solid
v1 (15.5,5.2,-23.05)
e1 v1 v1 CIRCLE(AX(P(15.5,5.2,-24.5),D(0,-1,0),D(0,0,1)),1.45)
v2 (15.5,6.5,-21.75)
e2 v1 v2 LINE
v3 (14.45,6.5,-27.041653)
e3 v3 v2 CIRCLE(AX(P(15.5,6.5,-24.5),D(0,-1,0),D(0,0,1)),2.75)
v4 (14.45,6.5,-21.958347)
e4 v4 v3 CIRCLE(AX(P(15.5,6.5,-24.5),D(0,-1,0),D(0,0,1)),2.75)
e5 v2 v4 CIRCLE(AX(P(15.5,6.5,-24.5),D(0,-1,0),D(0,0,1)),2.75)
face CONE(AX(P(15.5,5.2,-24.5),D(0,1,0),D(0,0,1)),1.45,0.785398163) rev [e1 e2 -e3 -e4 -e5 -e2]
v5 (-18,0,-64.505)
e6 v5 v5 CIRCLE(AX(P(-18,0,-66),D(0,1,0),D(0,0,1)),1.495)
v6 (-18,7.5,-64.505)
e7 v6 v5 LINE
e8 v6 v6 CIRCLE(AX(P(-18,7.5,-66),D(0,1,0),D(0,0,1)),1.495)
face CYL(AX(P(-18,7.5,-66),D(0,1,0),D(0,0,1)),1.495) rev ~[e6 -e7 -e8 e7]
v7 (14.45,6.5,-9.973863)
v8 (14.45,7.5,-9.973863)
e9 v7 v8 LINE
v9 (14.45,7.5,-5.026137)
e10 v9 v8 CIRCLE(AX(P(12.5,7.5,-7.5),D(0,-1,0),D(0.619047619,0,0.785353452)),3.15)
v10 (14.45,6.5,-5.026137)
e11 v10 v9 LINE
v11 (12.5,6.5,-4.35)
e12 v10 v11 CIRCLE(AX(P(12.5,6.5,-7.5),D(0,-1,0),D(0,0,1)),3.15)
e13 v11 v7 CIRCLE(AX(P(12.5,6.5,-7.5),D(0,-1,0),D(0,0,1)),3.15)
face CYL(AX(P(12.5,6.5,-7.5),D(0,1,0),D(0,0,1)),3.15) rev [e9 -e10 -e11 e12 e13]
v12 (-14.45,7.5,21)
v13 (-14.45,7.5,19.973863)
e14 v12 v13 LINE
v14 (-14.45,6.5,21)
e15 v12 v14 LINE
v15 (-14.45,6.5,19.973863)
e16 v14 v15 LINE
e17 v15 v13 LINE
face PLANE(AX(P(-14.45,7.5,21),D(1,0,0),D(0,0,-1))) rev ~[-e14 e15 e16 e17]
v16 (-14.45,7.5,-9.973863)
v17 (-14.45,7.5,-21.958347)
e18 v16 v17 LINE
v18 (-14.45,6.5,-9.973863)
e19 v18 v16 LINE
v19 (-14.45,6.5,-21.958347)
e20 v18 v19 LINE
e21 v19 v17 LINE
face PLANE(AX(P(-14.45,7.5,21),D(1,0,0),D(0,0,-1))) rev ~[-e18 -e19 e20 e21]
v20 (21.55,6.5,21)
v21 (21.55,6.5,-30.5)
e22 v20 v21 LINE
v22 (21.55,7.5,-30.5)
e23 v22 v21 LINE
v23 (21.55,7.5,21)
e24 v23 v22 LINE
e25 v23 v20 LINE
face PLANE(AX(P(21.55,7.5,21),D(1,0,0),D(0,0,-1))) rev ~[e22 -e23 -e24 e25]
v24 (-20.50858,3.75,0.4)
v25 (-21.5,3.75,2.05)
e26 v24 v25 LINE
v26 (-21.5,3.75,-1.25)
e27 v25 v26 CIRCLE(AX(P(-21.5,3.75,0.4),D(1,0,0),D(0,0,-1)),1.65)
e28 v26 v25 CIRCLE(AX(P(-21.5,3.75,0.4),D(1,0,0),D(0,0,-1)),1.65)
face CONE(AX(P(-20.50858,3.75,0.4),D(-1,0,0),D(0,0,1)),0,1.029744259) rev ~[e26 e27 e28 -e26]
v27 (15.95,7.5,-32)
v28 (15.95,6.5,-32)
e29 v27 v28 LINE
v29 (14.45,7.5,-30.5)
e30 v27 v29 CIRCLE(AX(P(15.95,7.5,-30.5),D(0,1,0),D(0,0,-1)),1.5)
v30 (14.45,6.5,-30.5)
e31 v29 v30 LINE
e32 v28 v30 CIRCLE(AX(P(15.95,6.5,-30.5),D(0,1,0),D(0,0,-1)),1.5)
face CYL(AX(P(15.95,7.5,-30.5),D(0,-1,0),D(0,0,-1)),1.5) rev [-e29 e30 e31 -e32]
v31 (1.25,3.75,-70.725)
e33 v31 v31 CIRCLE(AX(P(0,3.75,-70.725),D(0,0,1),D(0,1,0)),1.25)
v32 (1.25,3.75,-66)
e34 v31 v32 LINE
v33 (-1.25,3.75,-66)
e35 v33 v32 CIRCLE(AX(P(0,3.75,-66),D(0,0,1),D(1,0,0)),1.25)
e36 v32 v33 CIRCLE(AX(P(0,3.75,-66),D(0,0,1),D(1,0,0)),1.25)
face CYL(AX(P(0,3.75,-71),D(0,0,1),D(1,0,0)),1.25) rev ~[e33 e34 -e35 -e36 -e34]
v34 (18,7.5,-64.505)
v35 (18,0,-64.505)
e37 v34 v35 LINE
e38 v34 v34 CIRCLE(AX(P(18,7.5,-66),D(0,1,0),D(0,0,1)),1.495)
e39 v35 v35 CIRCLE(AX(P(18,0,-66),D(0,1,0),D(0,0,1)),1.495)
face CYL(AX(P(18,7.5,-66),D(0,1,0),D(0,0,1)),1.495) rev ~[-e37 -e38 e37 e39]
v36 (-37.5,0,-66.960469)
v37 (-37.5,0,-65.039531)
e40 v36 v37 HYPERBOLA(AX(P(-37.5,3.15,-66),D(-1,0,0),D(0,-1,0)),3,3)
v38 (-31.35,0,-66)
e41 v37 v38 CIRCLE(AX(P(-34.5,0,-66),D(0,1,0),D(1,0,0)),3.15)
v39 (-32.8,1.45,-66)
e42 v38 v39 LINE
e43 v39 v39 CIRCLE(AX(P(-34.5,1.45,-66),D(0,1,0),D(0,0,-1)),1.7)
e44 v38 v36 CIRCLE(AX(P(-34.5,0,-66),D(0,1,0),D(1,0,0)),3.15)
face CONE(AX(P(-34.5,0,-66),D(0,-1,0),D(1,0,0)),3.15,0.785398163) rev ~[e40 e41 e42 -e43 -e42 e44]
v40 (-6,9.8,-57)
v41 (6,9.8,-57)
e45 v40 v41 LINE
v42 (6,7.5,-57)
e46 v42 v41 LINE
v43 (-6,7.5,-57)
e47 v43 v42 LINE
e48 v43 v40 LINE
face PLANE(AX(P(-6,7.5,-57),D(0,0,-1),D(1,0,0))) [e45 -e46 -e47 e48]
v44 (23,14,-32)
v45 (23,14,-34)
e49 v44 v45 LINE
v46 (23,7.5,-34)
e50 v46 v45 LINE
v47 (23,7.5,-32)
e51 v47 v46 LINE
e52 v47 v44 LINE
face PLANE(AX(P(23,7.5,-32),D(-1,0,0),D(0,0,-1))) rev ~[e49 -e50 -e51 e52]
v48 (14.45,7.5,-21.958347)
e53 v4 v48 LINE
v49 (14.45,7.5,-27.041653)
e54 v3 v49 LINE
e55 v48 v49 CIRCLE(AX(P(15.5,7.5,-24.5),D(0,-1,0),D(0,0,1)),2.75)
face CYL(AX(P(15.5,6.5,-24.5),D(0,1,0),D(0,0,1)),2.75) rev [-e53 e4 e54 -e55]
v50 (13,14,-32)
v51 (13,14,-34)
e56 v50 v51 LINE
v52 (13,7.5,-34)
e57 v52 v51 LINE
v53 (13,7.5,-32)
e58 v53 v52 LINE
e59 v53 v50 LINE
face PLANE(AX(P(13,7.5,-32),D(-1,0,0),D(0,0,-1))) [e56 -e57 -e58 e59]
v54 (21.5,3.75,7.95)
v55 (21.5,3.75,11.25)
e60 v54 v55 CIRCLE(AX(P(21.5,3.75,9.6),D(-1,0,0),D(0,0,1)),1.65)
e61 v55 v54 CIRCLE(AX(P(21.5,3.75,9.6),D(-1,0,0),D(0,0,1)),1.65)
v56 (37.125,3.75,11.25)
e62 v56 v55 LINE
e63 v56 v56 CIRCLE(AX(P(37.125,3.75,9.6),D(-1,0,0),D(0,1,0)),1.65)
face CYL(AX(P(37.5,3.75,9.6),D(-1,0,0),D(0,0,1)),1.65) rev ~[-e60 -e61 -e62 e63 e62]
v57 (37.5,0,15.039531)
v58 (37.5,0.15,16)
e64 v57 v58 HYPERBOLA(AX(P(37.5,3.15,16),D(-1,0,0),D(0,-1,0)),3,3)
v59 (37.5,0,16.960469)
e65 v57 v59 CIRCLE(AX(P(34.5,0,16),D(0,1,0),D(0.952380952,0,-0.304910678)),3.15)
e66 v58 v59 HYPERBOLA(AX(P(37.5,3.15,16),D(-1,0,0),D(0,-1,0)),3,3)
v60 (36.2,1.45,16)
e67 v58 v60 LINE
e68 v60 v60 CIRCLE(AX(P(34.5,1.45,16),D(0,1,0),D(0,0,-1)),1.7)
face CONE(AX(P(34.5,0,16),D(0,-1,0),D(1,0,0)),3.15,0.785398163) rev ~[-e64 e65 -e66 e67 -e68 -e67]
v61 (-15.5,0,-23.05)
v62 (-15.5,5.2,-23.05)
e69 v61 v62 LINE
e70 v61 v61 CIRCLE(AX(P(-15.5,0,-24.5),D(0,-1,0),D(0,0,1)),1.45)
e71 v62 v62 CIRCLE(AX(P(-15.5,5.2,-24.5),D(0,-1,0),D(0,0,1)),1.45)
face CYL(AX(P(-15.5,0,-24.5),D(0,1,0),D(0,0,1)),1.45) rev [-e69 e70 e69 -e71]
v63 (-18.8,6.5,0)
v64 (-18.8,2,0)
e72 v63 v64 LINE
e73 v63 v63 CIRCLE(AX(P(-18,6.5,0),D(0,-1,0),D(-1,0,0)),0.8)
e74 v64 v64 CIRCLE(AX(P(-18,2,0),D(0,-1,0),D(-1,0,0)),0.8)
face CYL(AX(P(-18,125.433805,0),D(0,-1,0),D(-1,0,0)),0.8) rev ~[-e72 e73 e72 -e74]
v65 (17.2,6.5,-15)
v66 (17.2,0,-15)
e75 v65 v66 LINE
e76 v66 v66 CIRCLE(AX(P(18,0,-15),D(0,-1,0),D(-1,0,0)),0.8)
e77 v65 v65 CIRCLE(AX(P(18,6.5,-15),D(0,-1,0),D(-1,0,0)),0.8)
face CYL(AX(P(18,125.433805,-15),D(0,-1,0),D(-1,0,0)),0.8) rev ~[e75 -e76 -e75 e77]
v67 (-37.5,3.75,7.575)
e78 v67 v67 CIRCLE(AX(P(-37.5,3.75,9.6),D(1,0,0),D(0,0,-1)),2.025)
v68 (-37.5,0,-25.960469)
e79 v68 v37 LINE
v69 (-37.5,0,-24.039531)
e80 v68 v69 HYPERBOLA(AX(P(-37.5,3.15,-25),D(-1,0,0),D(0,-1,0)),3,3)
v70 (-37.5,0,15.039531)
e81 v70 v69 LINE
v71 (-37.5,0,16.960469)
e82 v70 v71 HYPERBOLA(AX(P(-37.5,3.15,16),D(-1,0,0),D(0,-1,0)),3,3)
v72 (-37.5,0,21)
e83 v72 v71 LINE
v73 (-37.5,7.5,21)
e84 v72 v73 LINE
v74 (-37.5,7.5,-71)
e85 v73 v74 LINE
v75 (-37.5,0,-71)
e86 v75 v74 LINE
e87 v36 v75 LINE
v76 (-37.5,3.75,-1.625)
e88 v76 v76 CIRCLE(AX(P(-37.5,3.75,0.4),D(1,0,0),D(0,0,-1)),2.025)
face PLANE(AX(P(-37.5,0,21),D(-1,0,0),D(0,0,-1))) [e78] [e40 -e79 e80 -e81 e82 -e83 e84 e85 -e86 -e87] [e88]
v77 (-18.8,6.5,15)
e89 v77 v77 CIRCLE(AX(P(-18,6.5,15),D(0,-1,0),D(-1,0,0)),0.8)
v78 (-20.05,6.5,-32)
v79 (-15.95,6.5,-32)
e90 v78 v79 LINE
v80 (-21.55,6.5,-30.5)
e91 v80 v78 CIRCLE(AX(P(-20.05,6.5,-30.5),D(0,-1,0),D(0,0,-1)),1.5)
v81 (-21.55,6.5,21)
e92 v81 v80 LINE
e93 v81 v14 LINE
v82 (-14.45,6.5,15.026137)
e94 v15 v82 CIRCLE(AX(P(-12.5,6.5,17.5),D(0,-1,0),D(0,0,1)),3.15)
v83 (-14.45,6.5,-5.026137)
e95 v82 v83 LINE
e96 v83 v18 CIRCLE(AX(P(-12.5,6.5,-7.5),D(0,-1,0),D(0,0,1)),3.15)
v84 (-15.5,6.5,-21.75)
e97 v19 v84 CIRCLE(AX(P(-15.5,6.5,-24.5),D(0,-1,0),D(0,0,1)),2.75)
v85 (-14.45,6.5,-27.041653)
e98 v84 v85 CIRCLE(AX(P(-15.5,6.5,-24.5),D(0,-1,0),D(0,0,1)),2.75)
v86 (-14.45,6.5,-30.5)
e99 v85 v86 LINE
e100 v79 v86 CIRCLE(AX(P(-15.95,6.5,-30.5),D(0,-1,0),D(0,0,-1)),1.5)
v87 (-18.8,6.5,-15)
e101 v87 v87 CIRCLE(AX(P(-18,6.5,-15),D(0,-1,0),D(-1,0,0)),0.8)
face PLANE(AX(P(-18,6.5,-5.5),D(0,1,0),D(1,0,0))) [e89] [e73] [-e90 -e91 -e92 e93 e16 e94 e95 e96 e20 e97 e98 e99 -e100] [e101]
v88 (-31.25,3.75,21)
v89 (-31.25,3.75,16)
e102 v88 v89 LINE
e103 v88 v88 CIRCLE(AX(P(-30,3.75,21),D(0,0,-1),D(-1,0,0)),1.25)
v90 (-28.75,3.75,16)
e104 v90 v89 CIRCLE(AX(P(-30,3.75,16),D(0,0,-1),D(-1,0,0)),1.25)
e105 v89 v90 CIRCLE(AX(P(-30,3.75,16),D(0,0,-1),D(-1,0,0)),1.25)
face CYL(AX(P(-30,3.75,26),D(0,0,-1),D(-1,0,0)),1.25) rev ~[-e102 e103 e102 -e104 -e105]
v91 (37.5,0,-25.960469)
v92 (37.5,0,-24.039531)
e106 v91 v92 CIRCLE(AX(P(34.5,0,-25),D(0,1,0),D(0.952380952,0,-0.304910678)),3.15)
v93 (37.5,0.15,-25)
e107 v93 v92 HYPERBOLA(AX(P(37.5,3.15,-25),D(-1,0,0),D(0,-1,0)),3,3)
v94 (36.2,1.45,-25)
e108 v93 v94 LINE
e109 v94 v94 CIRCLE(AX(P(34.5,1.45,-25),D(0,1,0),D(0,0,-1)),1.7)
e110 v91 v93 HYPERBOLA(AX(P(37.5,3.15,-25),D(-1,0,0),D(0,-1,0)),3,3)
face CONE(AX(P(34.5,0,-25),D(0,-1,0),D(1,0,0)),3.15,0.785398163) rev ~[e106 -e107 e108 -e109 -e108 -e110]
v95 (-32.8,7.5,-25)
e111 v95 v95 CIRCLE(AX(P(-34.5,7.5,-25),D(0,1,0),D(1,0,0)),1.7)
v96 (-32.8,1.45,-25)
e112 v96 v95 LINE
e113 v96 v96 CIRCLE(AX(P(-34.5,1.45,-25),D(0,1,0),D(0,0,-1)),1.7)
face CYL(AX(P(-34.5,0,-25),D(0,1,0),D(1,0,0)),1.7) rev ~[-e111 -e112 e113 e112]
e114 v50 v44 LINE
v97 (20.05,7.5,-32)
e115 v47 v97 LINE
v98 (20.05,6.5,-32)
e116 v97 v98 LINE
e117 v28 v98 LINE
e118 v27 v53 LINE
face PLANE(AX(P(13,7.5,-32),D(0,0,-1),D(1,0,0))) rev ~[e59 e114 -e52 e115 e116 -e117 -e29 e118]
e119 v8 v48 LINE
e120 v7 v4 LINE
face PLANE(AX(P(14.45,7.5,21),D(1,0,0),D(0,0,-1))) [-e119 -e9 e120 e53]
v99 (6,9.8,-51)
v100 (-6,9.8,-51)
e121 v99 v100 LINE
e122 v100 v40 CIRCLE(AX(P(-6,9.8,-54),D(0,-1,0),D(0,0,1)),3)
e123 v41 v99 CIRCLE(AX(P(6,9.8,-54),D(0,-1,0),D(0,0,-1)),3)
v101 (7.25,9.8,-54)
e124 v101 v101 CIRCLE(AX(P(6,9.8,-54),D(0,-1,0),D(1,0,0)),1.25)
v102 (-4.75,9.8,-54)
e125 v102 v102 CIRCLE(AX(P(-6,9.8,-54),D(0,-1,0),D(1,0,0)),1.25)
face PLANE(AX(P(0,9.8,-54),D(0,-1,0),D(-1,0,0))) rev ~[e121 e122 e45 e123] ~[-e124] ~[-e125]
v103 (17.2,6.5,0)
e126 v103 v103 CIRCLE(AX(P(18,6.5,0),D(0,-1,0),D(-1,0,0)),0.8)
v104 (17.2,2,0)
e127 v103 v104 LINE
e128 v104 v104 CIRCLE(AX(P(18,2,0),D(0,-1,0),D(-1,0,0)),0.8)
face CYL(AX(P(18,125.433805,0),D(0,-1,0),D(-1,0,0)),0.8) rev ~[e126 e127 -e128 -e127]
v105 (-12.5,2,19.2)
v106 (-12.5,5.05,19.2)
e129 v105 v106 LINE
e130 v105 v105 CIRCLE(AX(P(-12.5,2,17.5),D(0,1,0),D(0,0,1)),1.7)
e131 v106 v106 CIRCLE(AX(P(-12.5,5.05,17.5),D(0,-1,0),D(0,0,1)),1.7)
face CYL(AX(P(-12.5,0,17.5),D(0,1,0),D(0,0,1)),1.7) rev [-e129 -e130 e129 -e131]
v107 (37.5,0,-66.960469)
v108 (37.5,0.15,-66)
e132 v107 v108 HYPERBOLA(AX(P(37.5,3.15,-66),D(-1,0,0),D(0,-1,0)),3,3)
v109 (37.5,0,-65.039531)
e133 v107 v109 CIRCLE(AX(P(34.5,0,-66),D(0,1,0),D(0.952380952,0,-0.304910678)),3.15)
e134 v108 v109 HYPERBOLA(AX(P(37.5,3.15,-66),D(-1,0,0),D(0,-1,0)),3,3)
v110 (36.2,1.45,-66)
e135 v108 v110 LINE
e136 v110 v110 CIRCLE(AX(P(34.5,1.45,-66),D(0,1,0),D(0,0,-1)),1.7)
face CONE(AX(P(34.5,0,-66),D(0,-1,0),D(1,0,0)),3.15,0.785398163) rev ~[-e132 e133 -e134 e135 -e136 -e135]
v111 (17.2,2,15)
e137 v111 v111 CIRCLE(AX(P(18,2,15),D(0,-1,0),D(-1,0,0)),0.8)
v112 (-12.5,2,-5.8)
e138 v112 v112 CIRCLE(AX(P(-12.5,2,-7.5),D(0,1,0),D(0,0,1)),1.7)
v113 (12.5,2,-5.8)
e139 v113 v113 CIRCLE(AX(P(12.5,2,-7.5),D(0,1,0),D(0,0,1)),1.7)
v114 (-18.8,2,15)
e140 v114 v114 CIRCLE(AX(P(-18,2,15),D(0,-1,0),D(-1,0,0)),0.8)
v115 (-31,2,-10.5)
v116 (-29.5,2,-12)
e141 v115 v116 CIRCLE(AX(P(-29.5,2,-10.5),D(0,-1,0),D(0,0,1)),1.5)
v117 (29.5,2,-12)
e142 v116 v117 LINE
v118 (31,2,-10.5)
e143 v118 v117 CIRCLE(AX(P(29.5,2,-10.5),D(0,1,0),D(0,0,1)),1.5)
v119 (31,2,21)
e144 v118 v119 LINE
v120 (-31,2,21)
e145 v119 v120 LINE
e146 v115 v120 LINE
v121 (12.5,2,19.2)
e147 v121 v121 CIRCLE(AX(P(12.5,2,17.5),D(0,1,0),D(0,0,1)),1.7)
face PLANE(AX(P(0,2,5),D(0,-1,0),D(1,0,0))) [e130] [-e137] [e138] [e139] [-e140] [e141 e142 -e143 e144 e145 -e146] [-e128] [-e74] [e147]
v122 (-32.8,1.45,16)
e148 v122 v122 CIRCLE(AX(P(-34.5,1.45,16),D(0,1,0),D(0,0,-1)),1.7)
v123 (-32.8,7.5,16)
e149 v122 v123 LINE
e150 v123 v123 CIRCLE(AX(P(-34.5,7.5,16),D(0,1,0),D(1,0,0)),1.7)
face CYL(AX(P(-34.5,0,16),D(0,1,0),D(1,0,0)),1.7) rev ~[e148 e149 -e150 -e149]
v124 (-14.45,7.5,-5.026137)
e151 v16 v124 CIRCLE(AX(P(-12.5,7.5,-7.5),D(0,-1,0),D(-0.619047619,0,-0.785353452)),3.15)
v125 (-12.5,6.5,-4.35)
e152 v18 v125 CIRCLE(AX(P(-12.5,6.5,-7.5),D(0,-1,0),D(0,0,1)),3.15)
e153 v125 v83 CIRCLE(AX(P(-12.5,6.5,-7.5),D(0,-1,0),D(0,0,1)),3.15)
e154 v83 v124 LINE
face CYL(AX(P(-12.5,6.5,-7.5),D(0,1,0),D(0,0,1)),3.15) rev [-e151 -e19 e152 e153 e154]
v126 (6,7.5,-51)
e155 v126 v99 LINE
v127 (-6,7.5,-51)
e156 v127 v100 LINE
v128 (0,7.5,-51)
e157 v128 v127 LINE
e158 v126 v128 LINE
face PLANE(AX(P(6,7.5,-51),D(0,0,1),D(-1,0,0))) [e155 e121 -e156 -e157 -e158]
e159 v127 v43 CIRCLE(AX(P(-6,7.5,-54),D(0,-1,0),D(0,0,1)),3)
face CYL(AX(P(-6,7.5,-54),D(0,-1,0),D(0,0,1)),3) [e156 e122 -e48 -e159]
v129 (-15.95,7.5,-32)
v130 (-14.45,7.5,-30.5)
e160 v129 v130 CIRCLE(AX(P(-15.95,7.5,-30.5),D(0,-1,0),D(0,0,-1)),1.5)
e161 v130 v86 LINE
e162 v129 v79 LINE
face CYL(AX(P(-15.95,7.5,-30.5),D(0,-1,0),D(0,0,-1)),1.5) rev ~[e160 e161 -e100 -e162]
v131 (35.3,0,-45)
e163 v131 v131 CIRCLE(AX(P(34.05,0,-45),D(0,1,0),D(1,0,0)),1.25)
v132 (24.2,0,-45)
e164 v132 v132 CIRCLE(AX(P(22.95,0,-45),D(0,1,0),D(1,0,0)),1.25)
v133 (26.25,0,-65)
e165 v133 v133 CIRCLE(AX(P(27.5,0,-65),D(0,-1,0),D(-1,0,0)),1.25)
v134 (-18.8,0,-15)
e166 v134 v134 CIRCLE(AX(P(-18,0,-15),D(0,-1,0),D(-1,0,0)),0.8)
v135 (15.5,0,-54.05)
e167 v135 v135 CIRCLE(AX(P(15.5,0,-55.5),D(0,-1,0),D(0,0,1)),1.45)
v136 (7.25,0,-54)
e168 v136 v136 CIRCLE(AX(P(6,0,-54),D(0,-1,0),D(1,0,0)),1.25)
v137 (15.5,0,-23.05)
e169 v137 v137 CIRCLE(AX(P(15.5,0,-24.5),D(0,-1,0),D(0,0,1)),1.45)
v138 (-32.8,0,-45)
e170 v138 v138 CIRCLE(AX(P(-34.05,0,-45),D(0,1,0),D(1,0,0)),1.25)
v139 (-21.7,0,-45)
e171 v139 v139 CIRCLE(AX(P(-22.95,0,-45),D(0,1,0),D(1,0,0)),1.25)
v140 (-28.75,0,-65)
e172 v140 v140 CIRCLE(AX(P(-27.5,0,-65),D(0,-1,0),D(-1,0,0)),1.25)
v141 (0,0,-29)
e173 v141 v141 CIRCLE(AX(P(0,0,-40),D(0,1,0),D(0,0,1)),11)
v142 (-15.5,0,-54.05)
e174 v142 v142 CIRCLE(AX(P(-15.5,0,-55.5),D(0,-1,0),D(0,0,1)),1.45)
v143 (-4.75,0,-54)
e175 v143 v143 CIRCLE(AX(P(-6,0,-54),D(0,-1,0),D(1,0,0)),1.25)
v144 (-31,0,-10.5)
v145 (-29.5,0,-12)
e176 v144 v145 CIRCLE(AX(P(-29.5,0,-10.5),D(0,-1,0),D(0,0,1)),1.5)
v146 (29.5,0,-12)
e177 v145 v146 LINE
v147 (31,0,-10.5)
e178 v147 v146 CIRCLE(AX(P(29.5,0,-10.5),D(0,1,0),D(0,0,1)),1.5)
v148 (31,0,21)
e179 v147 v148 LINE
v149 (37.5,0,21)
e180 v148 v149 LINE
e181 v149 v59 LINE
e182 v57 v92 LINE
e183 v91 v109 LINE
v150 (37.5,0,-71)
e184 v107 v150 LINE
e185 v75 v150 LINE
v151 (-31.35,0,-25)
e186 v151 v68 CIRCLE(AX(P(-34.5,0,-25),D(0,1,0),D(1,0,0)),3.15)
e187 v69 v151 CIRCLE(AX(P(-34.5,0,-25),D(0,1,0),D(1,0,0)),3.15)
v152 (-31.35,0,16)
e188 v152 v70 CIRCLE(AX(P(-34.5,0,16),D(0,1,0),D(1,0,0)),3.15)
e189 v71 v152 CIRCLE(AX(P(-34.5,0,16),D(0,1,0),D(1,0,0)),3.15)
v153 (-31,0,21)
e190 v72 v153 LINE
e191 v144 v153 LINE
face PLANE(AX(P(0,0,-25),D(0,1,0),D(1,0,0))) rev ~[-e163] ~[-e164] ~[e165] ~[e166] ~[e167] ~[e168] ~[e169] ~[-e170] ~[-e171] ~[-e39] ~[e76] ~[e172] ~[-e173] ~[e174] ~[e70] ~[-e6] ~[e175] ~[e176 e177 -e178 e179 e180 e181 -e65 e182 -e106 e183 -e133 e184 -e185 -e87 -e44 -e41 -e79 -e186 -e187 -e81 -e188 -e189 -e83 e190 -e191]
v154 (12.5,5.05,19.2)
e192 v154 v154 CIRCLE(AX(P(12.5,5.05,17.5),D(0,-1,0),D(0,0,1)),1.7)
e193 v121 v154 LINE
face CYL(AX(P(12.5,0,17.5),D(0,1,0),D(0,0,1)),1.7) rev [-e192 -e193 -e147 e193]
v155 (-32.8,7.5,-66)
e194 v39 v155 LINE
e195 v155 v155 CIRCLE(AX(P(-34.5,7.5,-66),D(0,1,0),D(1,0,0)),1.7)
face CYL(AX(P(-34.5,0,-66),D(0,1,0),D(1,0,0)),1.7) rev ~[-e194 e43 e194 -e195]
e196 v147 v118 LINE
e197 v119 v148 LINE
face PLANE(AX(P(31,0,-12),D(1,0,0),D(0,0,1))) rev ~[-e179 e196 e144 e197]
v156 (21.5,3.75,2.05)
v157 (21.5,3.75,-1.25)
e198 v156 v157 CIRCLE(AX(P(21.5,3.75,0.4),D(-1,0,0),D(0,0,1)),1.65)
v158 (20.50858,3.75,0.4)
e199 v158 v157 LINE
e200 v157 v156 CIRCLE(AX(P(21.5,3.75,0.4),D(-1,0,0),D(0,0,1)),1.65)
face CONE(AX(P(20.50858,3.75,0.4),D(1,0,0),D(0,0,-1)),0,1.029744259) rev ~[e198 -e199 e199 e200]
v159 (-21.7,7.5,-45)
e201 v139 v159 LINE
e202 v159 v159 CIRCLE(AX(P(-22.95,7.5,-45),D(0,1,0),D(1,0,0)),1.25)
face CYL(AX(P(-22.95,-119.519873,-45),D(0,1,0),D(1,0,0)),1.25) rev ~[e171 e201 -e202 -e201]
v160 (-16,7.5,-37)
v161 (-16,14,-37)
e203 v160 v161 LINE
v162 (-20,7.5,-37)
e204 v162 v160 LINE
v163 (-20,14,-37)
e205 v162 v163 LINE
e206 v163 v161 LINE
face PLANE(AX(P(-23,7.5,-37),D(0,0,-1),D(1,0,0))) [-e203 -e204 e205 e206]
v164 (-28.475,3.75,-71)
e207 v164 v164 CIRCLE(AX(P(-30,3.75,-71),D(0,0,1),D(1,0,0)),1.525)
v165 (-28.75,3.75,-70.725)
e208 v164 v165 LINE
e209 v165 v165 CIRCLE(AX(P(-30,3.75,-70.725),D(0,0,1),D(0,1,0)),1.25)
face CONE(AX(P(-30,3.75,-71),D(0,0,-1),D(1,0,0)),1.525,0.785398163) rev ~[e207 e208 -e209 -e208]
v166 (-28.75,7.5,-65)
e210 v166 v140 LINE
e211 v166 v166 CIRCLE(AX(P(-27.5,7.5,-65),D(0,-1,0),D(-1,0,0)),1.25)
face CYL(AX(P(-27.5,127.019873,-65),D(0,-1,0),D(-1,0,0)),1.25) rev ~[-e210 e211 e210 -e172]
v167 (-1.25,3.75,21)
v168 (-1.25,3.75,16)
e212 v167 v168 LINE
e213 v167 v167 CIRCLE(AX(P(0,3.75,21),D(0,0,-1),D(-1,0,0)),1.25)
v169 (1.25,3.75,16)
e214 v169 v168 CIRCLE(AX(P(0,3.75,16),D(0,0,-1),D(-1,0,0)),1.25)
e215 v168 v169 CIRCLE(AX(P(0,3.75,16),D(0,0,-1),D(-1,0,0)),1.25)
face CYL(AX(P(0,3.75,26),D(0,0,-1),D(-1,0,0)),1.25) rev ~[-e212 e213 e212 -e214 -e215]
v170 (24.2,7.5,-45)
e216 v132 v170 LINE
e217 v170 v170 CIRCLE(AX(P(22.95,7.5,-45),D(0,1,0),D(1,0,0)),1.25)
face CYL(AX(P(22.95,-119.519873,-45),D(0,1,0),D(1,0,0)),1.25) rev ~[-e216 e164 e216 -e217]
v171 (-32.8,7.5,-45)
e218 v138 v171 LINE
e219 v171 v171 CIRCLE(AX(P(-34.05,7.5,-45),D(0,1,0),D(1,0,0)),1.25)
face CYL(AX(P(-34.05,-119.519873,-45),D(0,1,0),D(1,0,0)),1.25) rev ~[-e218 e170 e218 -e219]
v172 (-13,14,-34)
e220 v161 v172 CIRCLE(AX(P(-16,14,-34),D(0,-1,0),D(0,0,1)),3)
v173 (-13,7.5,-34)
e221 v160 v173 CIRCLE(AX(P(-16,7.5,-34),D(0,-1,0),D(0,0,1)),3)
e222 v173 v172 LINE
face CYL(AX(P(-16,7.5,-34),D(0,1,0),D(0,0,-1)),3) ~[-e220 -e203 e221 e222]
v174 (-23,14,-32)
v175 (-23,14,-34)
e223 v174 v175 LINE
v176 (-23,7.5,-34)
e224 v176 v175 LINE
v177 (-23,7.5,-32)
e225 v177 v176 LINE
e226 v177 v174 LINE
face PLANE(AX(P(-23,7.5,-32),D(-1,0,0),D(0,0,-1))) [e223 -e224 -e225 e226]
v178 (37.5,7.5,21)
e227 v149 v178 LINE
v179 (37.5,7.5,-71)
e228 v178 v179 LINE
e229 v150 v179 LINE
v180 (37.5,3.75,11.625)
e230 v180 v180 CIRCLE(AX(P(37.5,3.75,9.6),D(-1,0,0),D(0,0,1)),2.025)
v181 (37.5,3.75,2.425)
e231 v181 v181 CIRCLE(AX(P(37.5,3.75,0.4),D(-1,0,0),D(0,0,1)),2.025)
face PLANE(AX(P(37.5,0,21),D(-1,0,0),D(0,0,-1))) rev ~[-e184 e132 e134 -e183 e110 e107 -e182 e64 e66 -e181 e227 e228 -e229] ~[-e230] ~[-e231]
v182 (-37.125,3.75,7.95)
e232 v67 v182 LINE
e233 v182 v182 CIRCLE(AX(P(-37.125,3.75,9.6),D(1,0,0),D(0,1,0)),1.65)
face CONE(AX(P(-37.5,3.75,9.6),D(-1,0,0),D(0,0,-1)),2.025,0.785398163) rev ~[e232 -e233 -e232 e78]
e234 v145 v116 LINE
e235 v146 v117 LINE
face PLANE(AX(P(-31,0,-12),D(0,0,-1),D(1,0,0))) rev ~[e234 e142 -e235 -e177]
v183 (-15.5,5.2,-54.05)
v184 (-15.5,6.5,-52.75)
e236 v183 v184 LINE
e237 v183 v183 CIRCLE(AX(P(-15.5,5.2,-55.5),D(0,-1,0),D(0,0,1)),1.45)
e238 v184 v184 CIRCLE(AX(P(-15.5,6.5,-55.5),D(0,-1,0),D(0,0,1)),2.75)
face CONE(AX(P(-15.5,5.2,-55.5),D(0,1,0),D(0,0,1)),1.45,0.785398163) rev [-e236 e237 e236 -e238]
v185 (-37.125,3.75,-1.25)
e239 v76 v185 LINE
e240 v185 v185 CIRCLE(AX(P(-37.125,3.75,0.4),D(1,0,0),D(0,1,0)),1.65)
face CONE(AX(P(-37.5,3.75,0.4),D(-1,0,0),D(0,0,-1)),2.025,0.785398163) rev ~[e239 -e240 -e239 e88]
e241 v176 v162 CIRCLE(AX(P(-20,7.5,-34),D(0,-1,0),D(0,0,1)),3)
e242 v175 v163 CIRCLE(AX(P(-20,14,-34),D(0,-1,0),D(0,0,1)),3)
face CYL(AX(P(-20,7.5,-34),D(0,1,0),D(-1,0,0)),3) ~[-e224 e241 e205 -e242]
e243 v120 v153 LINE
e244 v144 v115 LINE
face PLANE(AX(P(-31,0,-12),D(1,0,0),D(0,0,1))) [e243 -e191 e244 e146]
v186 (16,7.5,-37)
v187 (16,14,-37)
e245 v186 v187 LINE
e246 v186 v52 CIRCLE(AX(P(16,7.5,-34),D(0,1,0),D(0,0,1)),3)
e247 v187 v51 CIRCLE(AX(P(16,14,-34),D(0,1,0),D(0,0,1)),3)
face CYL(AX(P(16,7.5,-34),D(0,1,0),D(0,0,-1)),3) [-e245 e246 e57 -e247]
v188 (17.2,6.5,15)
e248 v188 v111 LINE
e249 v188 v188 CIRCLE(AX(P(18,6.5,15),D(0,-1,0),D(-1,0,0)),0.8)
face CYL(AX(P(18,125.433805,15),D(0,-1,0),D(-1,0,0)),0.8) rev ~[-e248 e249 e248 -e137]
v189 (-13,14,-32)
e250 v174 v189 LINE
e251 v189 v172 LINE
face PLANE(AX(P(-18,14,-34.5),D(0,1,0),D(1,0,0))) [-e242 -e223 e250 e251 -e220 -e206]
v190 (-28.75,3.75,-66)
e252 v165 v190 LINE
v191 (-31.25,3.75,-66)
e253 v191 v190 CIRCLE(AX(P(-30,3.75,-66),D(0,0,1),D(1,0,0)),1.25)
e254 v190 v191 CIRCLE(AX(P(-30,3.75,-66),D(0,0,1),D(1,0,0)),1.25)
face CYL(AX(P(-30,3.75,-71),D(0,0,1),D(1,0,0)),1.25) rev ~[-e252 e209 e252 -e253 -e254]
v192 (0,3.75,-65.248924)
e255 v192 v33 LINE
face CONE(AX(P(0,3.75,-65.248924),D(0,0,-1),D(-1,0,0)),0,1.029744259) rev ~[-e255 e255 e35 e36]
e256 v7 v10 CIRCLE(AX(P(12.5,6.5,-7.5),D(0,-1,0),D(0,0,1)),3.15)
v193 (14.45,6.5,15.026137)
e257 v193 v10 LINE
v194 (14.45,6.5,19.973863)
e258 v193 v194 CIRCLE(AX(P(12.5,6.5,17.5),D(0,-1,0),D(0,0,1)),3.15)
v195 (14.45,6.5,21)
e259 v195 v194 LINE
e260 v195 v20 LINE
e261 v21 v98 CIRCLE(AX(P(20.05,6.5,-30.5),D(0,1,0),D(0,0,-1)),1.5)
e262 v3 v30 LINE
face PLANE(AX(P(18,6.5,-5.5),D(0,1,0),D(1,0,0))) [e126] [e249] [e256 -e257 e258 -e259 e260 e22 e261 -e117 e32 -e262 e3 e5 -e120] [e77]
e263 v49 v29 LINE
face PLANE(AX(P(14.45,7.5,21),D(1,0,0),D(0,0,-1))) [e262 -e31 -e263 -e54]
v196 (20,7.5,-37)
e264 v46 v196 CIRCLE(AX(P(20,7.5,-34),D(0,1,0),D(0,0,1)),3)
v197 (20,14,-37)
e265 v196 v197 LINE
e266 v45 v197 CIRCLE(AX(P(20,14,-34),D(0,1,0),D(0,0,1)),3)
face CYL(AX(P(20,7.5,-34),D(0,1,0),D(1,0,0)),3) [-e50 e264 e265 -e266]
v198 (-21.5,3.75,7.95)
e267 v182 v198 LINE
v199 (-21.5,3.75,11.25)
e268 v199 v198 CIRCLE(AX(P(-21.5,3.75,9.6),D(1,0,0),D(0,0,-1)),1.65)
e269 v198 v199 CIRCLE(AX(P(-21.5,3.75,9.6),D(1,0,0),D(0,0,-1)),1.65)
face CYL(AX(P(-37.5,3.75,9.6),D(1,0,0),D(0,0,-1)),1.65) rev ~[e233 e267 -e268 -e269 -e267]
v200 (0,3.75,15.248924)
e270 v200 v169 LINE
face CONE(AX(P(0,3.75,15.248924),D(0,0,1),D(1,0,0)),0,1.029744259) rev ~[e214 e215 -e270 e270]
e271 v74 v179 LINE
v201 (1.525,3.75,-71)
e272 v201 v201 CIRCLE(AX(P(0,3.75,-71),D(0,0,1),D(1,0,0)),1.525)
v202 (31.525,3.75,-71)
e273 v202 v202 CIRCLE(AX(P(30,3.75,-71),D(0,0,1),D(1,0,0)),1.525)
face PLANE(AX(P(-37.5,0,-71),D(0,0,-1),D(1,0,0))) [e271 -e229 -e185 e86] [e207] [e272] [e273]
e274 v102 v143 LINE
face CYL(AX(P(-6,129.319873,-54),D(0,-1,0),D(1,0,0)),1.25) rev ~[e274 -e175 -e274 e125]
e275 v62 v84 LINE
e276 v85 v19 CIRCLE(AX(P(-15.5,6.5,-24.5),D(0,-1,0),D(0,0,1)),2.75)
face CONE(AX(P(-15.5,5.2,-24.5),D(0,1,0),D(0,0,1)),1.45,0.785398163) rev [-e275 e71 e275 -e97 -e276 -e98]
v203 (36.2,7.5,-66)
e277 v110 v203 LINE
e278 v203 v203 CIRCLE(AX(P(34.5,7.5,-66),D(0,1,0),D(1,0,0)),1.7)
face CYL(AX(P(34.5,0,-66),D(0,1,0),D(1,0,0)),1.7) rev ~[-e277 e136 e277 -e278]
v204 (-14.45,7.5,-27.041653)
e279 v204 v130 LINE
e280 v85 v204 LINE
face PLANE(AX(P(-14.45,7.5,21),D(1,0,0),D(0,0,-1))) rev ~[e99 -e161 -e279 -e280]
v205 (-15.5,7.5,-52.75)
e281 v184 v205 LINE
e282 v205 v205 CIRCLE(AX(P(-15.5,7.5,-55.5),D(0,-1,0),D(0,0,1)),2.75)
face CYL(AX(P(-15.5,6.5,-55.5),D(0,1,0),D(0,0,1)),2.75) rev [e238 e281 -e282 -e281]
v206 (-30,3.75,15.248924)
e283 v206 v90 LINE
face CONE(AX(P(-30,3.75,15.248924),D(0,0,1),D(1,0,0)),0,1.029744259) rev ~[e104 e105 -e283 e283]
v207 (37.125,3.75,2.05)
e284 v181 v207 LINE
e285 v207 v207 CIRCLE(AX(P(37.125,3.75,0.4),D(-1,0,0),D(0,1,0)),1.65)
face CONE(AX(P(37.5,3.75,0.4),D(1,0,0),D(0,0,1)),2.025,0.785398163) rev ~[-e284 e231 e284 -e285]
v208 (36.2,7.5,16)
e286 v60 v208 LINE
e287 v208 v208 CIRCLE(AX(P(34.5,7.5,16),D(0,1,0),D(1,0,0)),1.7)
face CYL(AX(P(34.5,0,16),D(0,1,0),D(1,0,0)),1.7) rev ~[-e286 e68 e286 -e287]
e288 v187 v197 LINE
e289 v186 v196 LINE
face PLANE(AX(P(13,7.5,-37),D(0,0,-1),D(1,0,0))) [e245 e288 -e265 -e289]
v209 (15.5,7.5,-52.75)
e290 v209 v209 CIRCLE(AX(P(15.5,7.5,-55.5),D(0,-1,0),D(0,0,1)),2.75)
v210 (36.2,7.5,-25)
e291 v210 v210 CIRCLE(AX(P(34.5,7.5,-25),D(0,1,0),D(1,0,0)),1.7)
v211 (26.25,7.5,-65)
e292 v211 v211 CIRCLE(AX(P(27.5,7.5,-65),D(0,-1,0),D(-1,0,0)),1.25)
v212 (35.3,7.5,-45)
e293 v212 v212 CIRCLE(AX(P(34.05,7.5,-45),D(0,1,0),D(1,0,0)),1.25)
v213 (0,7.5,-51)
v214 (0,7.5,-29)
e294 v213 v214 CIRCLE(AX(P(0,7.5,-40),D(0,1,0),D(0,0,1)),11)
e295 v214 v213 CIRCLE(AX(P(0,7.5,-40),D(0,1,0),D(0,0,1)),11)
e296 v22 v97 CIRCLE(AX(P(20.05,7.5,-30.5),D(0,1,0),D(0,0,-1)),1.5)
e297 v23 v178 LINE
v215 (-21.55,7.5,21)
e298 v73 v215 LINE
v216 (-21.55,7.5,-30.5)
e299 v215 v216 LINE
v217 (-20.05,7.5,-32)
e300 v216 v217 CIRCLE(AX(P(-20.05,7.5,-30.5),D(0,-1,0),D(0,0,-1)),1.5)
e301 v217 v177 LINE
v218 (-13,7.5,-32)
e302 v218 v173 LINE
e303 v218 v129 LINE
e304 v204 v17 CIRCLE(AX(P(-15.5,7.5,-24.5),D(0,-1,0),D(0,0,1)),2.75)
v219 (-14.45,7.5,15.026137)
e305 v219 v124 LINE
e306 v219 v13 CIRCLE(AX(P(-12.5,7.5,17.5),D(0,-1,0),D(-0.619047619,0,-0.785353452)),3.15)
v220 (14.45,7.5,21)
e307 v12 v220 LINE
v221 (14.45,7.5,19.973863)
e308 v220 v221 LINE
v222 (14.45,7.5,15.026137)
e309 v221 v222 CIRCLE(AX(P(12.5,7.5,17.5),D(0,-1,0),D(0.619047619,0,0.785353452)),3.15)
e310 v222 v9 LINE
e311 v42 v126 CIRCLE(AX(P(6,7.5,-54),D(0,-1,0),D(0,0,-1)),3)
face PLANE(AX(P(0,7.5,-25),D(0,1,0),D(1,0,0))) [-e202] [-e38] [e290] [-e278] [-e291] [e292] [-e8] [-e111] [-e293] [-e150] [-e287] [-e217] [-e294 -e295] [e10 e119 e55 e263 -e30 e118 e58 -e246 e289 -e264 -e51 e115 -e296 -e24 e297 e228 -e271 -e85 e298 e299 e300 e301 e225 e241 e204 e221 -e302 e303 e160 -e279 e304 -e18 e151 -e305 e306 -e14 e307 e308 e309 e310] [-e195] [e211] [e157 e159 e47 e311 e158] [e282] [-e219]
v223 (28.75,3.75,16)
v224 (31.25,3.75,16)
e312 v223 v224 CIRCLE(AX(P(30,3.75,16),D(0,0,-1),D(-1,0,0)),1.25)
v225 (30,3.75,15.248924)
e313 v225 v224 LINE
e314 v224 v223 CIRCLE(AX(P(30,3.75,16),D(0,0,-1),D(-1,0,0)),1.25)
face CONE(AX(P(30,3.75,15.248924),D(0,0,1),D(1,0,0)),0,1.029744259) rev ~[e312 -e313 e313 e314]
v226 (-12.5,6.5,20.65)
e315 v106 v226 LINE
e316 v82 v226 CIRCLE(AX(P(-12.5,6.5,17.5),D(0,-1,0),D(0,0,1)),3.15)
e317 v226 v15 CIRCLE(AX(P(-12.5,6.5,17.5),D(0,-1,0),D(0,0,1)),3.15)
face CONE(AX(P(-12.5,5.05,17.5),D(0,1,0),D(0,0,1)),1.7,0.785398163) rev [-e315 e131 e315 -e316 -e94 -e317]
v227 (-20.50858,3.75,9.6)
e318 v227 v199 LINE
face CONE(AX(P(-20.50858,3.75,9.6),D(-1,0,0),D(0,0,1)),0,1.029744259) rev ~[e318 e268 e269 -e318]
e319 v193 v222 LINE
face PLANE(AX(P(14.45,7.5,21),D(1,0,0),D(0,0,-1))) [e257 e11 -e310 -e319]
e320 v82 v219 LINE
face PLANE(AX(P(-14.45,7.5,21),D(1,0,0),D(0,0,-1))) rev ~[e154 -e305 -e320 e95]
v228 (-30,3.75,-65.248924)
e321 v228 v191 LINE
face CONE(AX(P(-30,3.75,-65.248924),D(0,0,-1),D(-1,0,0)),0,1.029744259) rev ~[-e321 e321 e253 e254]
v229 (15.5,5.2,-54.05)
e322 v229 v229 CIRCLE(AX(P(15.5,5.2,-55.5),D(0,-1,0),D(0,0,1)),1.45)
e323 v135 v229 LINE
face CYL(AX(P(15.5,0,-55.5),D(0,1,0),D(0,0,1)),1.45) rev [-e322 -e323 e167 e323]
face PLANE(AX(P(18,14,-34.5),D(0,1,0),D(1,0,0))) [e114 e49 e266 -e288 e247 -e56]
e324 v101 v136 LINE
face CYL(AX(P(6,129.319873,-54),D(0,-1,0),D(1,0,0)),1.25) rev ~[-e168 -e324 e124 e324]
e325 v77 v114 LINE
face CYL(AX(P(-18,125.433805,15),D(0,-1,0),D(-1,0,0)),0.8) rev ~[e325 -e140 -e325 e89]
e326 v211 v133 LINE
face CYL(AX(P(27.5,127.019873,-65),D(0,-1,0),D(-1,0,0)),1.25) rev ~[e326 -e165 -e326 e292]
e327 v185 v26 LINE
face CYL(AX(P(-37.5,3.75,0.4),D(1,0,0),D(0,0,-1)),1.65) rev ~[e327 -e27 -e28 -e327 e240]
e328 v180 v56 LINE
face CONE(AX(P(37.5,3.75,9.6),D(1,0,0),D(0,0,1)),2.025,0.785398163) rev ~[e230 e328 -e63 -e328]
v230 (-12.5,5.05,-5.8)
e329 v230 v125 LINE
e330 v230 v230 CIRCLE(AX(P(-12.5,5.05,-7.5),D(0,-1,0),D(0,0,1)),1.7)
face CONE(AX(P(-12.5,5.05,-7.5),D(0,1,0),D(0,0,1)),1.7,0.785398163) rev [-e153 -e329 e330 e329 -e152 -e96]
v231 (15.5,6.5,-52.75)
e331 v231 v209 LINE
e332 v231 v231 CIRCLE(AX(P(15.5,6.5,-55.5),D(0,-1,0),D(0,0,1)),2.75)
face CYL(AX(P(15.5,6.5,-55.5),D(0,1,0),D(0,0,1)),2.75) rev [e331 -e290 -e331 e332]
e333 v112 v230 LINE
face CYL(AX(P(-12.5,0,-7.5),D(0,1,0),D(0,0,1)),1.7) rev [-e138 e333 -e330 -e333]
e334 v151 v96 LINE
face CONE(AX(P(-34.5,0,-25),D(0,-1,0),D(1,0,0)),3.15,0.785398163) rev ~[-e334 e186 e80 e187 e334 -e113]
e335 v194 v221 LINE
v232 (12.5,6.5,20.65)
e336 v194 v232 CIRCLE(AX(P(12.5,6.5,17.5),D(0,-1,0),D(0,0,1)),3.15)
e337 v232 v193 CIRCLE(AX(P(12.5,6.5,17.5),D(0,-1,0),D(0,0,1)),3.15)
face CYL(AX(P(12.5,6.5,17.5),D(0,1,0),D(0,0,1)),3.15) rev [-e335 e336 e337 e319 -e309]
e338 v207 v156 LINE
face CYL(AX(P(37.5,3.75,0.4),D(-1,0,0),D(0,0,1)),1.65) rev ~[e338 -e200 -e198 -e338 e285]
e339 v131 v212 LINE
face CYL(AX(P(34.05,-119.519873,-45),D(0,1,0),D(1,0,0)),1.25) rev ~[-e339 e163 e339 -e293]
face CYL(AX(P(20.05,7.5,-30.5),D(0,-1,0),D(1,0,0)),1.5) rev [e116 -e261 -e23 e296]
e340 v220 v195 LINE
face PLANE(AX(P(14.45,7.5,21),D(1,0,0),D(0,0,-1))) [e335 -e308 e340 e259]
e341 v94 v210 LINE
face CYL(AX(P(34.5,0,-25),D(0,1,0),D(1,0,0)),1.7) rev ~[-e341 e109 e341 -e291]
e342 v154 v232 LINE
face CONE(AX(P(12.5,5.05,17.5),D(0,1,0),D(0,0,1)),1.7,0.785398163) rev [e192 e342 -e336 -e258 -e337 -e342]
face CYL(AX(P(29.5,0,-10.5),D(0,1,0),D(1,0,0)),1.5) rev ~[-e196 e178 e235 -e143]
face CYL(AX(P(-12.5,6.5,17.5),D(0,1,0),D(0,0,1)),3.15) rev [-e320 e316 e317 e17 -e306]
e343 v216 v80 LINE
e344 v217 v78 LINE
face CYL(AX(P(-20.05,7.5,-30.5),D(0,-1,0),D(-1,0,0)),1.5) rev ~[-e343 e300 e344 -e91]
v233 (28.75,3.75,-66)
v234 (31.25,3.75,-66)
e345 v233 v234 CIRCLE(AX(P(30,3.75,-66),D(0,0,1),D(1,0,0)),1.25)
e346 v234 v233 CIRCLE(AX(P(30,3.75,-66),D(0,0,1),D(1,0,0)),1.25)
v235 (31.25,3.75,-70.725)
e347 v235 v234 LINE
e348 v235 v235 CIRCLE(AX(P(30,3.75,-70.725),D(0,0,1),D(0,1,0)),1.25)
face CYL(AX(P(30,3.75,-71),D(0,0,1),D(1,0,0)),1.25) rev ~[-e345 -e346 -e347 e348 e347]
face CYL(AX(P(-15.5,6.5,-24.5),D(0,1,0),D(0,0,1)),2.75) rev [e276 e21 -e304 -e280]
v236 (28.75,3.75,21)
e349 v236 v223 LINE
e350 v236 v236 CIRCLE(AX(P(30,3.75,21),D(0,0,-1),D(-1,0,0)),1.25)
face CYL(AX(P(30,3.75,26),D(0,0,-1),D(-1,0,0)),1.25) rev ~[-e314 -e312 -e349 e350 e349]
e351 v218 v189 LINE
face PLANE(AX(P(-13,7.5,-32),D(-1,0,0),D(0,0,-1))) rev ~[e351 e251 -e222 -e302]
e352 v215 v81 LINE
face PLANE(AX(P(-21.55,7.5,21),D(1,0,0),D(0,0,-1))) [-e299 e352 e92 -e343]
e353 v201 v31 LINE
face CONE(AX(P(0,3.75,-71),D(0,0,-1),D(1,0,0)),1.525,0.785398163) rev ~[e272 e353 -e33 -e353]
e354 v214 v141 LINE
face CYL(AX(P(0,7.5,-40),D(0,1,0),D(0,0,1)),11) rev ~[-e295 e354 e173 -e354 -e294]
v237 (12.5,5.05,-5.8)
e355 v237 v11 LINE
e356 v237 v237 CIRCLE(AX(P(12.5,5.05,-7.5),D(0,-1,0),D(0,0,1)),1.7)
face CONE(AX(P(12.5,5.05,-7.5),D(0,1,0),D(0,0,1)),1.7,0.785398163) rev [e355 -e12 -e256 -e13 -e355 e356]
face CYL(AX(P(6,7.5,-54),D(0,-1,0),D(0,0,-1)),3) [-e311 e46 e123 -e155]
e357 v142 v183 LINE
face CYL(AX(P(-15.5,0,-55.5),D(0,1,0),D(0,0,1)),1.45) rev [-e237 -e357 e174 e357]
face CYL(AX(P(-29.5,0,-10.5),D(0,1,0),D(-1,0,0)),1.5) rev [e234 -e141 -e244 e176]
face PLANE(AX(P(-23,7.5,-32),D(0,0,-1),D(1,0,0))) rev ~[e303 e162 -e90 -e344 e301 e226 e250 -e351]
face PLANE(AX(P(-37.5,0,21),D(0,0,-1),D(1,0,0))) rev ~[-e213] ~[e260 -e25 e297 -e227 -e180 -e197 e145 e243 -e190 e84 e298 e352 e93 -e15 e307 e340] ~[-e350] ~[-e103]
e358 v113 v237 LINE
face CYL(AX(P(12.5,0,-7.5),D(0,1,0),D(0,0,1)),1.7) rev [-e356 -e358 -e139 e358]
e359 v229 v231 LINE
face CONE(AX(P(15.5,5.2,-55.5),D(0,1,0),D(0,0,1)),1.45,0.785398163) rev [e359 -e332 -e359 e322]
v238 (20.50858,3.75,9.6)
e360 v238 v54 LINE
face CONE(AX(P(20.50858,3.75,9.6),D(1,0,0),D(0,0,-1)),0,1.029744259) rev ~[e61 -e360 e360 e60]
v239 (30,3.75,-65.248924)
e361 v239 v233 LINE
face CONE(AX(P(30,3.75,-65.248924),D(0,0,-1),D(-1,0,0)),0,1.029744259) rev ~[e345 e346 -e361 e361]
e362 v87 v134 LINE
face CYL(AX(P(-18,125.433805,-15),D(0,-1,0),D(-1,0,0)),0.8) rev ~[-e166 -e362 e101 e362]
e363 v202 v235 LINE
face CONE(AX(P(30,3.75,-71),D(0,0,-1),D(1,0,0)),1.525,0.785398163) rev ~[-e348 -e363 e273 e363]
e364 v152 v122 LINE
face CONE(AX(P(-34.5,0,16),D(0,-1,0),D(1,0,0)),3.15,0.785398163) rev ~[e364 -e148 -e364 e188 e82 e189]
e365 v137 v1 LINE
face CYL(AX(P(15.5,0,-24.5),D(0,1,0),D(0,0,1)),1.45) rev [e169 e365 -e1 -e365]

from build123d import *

# Parameters (mm, degrees)
SKETCH_1_W                   = 75
SKETCH_1_H                   = 92
EXTRUDE_1488_DEPTH           = 7.5
SKETCH_16_W                  = 7.1
SKETCH_16_H                  = 53
CUT_EXTRUDE_2987_DEPTH       = 1
HOLE_WIZARD_M3_D             = 1.6
HOLE_WIZARD_15_M3_AT_2_COUNT = 2
HOLE_WIZARD_15_M3_AT_2_PITCH = 25
HOLE_WIZARD_15_M3_AT_3_COUNT = 2
HOLE_WIZARD_15_M3_AT_3_PITCH = 35.355339059
HOLE_WIZARD_15_M3_AT_4_COUNT = 2
HOLE_WIZARD_15_M3_AT_4_PITCH = 25
SKETCH_28_R                  = 11
CUT_EXTRUDE_6514_DEPTH       = 81.64428064
HOLE_WIZARD_6682_AT_2_COUNT  = 2
HOLE_WIZARD_6682_AT_2_PITCH  = 31
HOLE_WIZARD_6682_AT_3_COUNT  = 2
HOLE_WIZARD_6682_AT_3_PITCH  = 43.840620434
HOLE_WIZARD_6682_AT_4_COUNT  = 2
HOLE_WIZARD_6682_AT_4_PITCH  = 31
SKETCH_90_W                  = 10
SKETCH_90_H                  = 5
EXTRUDE_8536_DEPTH           = 6.5
EXTRUDE_9344_DEPTH           = 2.3
HOLE_WIZARD_M3_2_D           = 2.5
SKETCH_77_W                  = 62
SKETCH_77_H                  = 34
CUT_EXTRUDE_1_DEPTH          = 2
HOLE_WIZARD_M3_3_D           = 2.5
HOLE_WIZARD_M3_3_DEPTH       = 5
HOLE_WIZARD_M3_3_CSINK_D     = 3.05
HOLE_WIZARD_M3_3_CSINK_ANGLE = 90
HOLE_WIZARD_M3_3_TIP         = 0.751075774
HOLE_WIZARD_M3_4_D           = 2.5
HOLE_WIZARD_M3_4_DEPTH       = 5
HOLE_WIZARD_M3_4_TIP         = 0.751075774
HOLE_WIZARD_M3_5_D           = 3.4
HOLE_WIZARD_M3_5_CSINK_D     = 6.3
HOLE_WIZARD_M3_5_CSINK_ANGLE = 90
SKETCH_63_R                  = 1.495
CUT_EXTRUDE_15431_DEPTH      = 81.64428064
FILLET_2_R                   = 1.5
PATTERN_LINEAR_2_COUNT       = 3
PATTERN_LINEAR_2_PITCH       = 15
HOLE_WIZARD_1_M4_D           = 3.3
HOLE_WIZARD_1_M4_DEPTH       = 16
HOLE_WIZARD_1_M4_CSINK_D     = 4.05
HOLE_WIZARD_1_M4_CSINK_ANGLE = 90
HOLE_WIZARD_1_M4_TIP         = 0.991420021
HOLE_WIZARD_2_3_D            = 3.3
HOLE_WIZARD_2_3_DEPTH        = 16
HOLE_WIZARD_2_3_CSINK_D      = 4.05
HOLE_WIZARD_2_3_CSINK_ANGLE  = 90
HOLE_WIZARD_2_3_TIP          = 0.991420021
HOLE_WIZARD_M3_6_D           = 2.5
HOLE_WIZARD_3_D              = 2.5
FILLET_3_R                   = 3


with BuildPart() as part:
    # Эскиз1 → Extrude 1488 (new body)
    with BuildSketch(Plane(origin=(0, 0, 0), x_dir=(1, 0, 0), z_dir=(0, 1, 0))):
        with Locations((0, 25)):
            Rectangle(SKETCH_1_W, SKETCH_1_H)
    extrude(amount=EXTRUDE_1488_DEPTH)

    # Эскиз16 → Cut-Extrude 2987 (cut)
    with BuildSketch(Plane(origin=(0, 7.5, 0), x_dir=(1, 0, 0), z_dir=(0, 1, 0))):
        with Locations((-18, 5.5)):
            Rectangle(SKETCH_16_W, SKETCH_16_H)
        with Locations((18, 5.5)):
            Rectangle(SKETCH_16_W, SKETCH_16_H)
    extrude(amount=-CUT_EXTRUDE_2987_DEPTH, mode=Mode.SUBTRACT)

    # Hole Wizard M3 (through all)
    with Locations(Plane(origin=(0, 6.5, 0), x_dir=(1, 0, 0), z_dir=(0, 1, 0))):
        with Locations((-18, -15), (18, -15)):
            hole_wizard_m3 = Hole(HOLE_WIZARD_M3_D / 2)

    # Эскиз56 → Каретка 15 - M3 (revolve, cut)
    with BuildSketch(Plane(origin=(-12.5, 7.5, -7.5), x_dir=(0, 0, 1), z_dir=(1, 0, 0))):
        Polygon((0, 0), (0, 7.5), (1.7, 7.5), (1.7, 2.45), (3.15, 1), (3.15, 0), align=None)
    hole_wizard_15_m3 = revolve(axis=Axis((-12.5, 13.85, -7.5), (0, -1, 0)), mode=Mode.SUBTRACT)

    # Каретка 15 - M3 at 2: Каретка 15 - M3 ×2
    with Locations(*[(0, 0, i * HOLE_WIZARD_15_M3_AT_2_PITCH) for i in range(1, HOLE_WIZARD_15_M3_AT_2_COUNT)]):
        add(hole_wizard_15_m3, mode=Mode.SUBTRACT)

    # Каретка 15 - M3 at 3: Каретка 15 - M3 ×2
    with Locations(*[Vector(0.7071067811865475, 0, 0.7071067811865476) * (i * HOLE_WIZARD_15_M3_AT_3_PITCH) for i in range(1, HOLE_WIZARD_15_M3_AT_3_COUNT)]):
        add(hole_wizard_15_m3, mode=Mode.SUBTRACT)

    # Каретка 15 - M3 at 4: Каретка 15 - M3 ×2
    with Locations(*[(i * HOLE_WIZARD_15_M3_AT_4_PITCH, 0, 0) for i in range(1, HOLE_WIZARD_15_M3_AT_4_COUNT)]):
        add(hole_wizard_15_m3, mode=Mode.SUBTRACT)

    # Эскиз28 → Cut-Extrude 6514 (cut, through all)
    with BuildSketch(Plane(origin=(0, 7.5, 0), x_dir=(1, 0, 0), z_dir=(0, 1, 0))):
        with Locations(Location((0, 40, 0), (0, 0, 270))):
            Circle(SKETCH_28_R)
    extrude(amount=-CUT_EXTRUDE_6514_DEPTH, mode=Mode.SUBTRACT)

    # Эскиз31 → Hole Wizard 6682 (revolve, cut)
    with BuildSketch(Plane(origin=(-15.5, 7.5, -55.5), x_dir=(0, 0, 1), z_dir=(1, 0, 0))):
        Polygon((0, 0), (0, 7.5), (1.45, 7.5), (1.45, 2.3), (2.75, 1), (2.75, 0), align=None)
    hole_wizard_6682 = revolve(axis=Axis((-15.5, 13.85, -55.5), (0, -1, 0)), mode=Mode.SUBTRACT)

    # Hole Wizard 6682 at 2: Hole Wizard 6682 ×2
    with Locations(*[(i * HOLE_WIZARD_6682_AT_2_PITCH, 0, 0) for i in range(1, HOLE_WIZARD_6682_AT_2_COUNT)]):
        add(hole_wizard_6682, mode=Mode.SUBTRACT)

    # Hole Wizard 6682 at 3: Hole Wizard 6682 ×2
    with Locations(*[Vector(0.7071067811865476, 0, 0.7071067811865476) * (i * HOLE_WIZARD_6682_AT_3_PITCH) for i in range(1, HOLE_WIZARD_6682_AT_3_COUNT)]):
        add(hole_wizard_6682, mode=Mode.SUBTRACT)

    # Hole Wizard 6682 at 4: Hole Wizard 6682 ×2
    with Locations(*[(0, 0, i * HOLE_WIZARD_6682_AT_4_PITCH) for i in range(1, HOLE_WIZARD_6682_AT_4_COUNT)]):
        add(hole_wizard_6682, mode=Mode.SUBTRACT)

    # Эскиз90 → Extrude 8536 (add)
    with BuildSketch(Plane(origin=(0, 7.5, 0), x_dir=(1, 0, 0), z_dir=(0, 1, 0))):
        with Locations((18, 34.5)):
            Rectangle(SKETCH_90_W, SKETCH_90_H)
        with Locations((-18, 34.5)):
            Rectangle(SKETCH_90_W, SKETCH_90_H)
    extrude(amount=EXTRUDE_8536_DEPTH)

    # Эскиз87 → Extrude 9344 (add)
    with BuildSketch(Plane(origin=(0, 7.5, 0), x_dir=(1, 0, 0), z_dir=(0, 1, 0))):
        with BuildLine():
            Line((-6, 57), (6, 57))
            ThreePointArc((6, 57), (9, 54), (6, 51))
            Line((6, 51), (-6, 51))
            ThreePointArc((-6, 51), (-9, 54), (-6, 57))
        make_face()
    extrude(amount=EXTRUDE_9344_DEPTH)

    # Hole Wizard M3 2 (through all)
    with Locations(Plane(origin=(0, 9.8, 0), x_dir=(-1, 0, 0), z_dir=(0, 1, 0))):
        with Locations((6, -54), (-6, -54)):
            Hole(HOLE_WIZARD_M3_2_D / 2)

    # Эскиз77 → Вырез-Вытянуть1 (cut)
    with BuildSketch(Plane.XZ):
        with Locations((0, 5)):
            Rectangle(SKETCH_77_W, SKETCH_77_H)
    extrude(amount=-CUT_EXTRUDE_1_DEPTH, mode=Mode.SUBTRACT)

    # Hole Wizard M3 3
    with Locations(Plane(origin=(0, 0, -71), x_dir=(-1, 0, 0), z_dir=(0, 0, -1))):
        with Locations((-30, 3.75), (0, 3.75), (30, 3.75)):
            CounterSinkHole(HOLE_WIZARD_M3_3_D / 2, HOLE_WIZARD_M3_3_CSINK_D / 2, depth=HOLE_WIZARD_M3_3_DEPTH, counter_sink_angle=HOLE_WIZARD_M3_3_CSINK_ANGLE)
            with Locations((0, 0, -(HOLE_WIZARD_M3_3_DEPTH + HOLE_WIZARD_M3_3_TIP / 2))):  # 118° drill point
                Cone(0, HOLE_WIZARD_M3_3_D / 2, HOLE_WIZARD_M3_3_TIP, mode=Mode.SUBTRACT)

    # Hole Wizard M3 4
    with Locations(Plane.XY.offset(21)):
        with Locations((-30, 3.75), (0, 3.75), (30, 3.75)):
            Hole(HOLE_WIZARD_M3_4_D / 2, depth=HOLE_WIZARD_M3_4_DEPTH)
            with Locations((0, 0, -(HOLE_WIZARD_M3_4_DEPTH + HOLE_WIZARD_M3_4_TIP / 2))):  # 118° drill point
                Cone(0, HOLE_WIZARD_M3_4_D / 2, HOLE_WIZARD_M3_4_TIP, mode=Mode.SUBTRACT)

    # Hole Wizard M3 5 (through all)
    with Locations(Plane(origin=(0, 0, 0), x_dir=(-1, 0, 0), z_dir=(0, -1, 0))):
        with Locations((34.5, 25), (34.5, -16), (34.5, 66), (-34.5, 66), (-34.5, 25), (-34.5, -16)):
            CounterSinkHole(HOLE_WIZARD_M3_5_D / 2, HOLE_WIZARD_M3_5_CSINK_D / 2, counter_sink_angle=HOLE_WIZARD_M3_5_CSINK_ANGLE)

    # Эскиз63 → Cut-Extrude 15431 (cut, through all)
    with BuildSketch(Plane(origin=(0, 7.5, 0), x_dir=(1, 0, 0), z_dir=(0, 1, 0))):
        with Locations(Location((-18, 66, 0), (0, 0, 270))):
            Circle(SKETCH_63_R)
        with Locations(Location((18, 66, 0), (0, 0, 270))):
            Circle(SKETCH_63_R)
    extrude(amount=-CUT_EXTRUDE_15431_DEPTH, mode=Mode.SUBTRACT)

    # Скругление2
    fillet_2_edges = [part.edges().sort_by_distance(p)[0] for p in [
        (-21.55, 7, -32),
        (-14.45, 7, -32),
        (-31, 1, -12),
        (31, 1, -12),
        (21.55, 7, -32),
        (14.45, 7, -32),
    ]]
    fillet(fillet_2_edges, radius=FILLET_2_R)

    # Линейный массив2: Hole Wizard M3 ×3
    with Locations(*[(0, 0, -i * PATTERN_LINEAR_2_PITCH) for i in range(1, PATTERN_LINEAR_2_COUNT)]):
        add(hole_wizard_m3, mode=Mode.SUBTRACT)

    # Трос1-M4
    with Locations(Plane.ZY.offset(37.5)):
        with Locations((0.4, 3.75), (9.6, 3.75)):
            CounterSinkHole(HOLE_WIZARD_1_M4_D / 2, HOLE_WIZARD_1_M4_CSINK_D / 2, depth=HOLE_WIZARD_1_M4_DEPTH, counter_sink_angle=HOLE_WIZARD_1_M4_CSINK_ANGLE)
            with Locations((0, 0, -(HOLE_WIZARD_1_M4_DEPTH + HOLE_WIZARD_1_M4_TIP / 2))):  # 118° drill point
                Cone(0, HOLE_WIZARD_1_M4_D / 2, HOLE_WIZARD_1_M4_TIP, mode=Mode.SUBTRACT)

    # Трос2-М3
    with Locations(Plane(origin=(37.5, 0, 0), x_dir=(0, 0, -1), z_dir=(1, 0, 0))):
        with Locations((-0.4, 3.75), (-9.6, 3.75)):
            CounterSinkHole(HOLE_WIZARD_2_3_D / 2, HOLE_WIZARD_2_3_CSINK_D / 2, depth=HOLE_WIZARD_2_3_DEPTH, counter_sink_angle=HOLE_WIZARD_2_3_CSINK_ANGLE)
            with Locations((0, 0, -(HOLE_WIZARD_2_3_DEPTH + HOLE_WIZARD_2_3_TIP / 2))):  # 118° drill point
                Cone(0, HOLE_WIZARD_2_3_D / 2, HOLE_WIZARD_2_3_TIP, mode=Mode.SUBTRACT)

    # Hole Wizard M3 6 (through all)
    with Locations(Plane(origin=(0, 0, 0), x_dir=(-1, 0, 0), z_dir=(0, -1, 0))):
        with Locations((34.05, 45), (22.95, 45), (-34.05, 45), (-22.95, 45)):
            Hole(HOLE_WIZARD_M3_6_D / 2)

    # Пружина-М3 (through all)
    with Locations(Plane(origin=(0, 7.5, 0), x_dir=(1, 0, 0), z_dir=(0, 1, 0))):
        with Locations((-27.5, 65), (27.5, 65)):
            Hole(HOLE_WIZARD_3_D / 2)

    # Скругление3
    fillet_3_edges = [part.edges().sort_by_distance(p)[0] for p in [
        (23, 10.75, -37),
        (13, 10.75, -37),
        (-23, 10.75, -37),
        (-13, 10.75, -37),
    ]]
    fillet(fillet_3_edges, radius=FILLET_3_R)


solid = part.part
